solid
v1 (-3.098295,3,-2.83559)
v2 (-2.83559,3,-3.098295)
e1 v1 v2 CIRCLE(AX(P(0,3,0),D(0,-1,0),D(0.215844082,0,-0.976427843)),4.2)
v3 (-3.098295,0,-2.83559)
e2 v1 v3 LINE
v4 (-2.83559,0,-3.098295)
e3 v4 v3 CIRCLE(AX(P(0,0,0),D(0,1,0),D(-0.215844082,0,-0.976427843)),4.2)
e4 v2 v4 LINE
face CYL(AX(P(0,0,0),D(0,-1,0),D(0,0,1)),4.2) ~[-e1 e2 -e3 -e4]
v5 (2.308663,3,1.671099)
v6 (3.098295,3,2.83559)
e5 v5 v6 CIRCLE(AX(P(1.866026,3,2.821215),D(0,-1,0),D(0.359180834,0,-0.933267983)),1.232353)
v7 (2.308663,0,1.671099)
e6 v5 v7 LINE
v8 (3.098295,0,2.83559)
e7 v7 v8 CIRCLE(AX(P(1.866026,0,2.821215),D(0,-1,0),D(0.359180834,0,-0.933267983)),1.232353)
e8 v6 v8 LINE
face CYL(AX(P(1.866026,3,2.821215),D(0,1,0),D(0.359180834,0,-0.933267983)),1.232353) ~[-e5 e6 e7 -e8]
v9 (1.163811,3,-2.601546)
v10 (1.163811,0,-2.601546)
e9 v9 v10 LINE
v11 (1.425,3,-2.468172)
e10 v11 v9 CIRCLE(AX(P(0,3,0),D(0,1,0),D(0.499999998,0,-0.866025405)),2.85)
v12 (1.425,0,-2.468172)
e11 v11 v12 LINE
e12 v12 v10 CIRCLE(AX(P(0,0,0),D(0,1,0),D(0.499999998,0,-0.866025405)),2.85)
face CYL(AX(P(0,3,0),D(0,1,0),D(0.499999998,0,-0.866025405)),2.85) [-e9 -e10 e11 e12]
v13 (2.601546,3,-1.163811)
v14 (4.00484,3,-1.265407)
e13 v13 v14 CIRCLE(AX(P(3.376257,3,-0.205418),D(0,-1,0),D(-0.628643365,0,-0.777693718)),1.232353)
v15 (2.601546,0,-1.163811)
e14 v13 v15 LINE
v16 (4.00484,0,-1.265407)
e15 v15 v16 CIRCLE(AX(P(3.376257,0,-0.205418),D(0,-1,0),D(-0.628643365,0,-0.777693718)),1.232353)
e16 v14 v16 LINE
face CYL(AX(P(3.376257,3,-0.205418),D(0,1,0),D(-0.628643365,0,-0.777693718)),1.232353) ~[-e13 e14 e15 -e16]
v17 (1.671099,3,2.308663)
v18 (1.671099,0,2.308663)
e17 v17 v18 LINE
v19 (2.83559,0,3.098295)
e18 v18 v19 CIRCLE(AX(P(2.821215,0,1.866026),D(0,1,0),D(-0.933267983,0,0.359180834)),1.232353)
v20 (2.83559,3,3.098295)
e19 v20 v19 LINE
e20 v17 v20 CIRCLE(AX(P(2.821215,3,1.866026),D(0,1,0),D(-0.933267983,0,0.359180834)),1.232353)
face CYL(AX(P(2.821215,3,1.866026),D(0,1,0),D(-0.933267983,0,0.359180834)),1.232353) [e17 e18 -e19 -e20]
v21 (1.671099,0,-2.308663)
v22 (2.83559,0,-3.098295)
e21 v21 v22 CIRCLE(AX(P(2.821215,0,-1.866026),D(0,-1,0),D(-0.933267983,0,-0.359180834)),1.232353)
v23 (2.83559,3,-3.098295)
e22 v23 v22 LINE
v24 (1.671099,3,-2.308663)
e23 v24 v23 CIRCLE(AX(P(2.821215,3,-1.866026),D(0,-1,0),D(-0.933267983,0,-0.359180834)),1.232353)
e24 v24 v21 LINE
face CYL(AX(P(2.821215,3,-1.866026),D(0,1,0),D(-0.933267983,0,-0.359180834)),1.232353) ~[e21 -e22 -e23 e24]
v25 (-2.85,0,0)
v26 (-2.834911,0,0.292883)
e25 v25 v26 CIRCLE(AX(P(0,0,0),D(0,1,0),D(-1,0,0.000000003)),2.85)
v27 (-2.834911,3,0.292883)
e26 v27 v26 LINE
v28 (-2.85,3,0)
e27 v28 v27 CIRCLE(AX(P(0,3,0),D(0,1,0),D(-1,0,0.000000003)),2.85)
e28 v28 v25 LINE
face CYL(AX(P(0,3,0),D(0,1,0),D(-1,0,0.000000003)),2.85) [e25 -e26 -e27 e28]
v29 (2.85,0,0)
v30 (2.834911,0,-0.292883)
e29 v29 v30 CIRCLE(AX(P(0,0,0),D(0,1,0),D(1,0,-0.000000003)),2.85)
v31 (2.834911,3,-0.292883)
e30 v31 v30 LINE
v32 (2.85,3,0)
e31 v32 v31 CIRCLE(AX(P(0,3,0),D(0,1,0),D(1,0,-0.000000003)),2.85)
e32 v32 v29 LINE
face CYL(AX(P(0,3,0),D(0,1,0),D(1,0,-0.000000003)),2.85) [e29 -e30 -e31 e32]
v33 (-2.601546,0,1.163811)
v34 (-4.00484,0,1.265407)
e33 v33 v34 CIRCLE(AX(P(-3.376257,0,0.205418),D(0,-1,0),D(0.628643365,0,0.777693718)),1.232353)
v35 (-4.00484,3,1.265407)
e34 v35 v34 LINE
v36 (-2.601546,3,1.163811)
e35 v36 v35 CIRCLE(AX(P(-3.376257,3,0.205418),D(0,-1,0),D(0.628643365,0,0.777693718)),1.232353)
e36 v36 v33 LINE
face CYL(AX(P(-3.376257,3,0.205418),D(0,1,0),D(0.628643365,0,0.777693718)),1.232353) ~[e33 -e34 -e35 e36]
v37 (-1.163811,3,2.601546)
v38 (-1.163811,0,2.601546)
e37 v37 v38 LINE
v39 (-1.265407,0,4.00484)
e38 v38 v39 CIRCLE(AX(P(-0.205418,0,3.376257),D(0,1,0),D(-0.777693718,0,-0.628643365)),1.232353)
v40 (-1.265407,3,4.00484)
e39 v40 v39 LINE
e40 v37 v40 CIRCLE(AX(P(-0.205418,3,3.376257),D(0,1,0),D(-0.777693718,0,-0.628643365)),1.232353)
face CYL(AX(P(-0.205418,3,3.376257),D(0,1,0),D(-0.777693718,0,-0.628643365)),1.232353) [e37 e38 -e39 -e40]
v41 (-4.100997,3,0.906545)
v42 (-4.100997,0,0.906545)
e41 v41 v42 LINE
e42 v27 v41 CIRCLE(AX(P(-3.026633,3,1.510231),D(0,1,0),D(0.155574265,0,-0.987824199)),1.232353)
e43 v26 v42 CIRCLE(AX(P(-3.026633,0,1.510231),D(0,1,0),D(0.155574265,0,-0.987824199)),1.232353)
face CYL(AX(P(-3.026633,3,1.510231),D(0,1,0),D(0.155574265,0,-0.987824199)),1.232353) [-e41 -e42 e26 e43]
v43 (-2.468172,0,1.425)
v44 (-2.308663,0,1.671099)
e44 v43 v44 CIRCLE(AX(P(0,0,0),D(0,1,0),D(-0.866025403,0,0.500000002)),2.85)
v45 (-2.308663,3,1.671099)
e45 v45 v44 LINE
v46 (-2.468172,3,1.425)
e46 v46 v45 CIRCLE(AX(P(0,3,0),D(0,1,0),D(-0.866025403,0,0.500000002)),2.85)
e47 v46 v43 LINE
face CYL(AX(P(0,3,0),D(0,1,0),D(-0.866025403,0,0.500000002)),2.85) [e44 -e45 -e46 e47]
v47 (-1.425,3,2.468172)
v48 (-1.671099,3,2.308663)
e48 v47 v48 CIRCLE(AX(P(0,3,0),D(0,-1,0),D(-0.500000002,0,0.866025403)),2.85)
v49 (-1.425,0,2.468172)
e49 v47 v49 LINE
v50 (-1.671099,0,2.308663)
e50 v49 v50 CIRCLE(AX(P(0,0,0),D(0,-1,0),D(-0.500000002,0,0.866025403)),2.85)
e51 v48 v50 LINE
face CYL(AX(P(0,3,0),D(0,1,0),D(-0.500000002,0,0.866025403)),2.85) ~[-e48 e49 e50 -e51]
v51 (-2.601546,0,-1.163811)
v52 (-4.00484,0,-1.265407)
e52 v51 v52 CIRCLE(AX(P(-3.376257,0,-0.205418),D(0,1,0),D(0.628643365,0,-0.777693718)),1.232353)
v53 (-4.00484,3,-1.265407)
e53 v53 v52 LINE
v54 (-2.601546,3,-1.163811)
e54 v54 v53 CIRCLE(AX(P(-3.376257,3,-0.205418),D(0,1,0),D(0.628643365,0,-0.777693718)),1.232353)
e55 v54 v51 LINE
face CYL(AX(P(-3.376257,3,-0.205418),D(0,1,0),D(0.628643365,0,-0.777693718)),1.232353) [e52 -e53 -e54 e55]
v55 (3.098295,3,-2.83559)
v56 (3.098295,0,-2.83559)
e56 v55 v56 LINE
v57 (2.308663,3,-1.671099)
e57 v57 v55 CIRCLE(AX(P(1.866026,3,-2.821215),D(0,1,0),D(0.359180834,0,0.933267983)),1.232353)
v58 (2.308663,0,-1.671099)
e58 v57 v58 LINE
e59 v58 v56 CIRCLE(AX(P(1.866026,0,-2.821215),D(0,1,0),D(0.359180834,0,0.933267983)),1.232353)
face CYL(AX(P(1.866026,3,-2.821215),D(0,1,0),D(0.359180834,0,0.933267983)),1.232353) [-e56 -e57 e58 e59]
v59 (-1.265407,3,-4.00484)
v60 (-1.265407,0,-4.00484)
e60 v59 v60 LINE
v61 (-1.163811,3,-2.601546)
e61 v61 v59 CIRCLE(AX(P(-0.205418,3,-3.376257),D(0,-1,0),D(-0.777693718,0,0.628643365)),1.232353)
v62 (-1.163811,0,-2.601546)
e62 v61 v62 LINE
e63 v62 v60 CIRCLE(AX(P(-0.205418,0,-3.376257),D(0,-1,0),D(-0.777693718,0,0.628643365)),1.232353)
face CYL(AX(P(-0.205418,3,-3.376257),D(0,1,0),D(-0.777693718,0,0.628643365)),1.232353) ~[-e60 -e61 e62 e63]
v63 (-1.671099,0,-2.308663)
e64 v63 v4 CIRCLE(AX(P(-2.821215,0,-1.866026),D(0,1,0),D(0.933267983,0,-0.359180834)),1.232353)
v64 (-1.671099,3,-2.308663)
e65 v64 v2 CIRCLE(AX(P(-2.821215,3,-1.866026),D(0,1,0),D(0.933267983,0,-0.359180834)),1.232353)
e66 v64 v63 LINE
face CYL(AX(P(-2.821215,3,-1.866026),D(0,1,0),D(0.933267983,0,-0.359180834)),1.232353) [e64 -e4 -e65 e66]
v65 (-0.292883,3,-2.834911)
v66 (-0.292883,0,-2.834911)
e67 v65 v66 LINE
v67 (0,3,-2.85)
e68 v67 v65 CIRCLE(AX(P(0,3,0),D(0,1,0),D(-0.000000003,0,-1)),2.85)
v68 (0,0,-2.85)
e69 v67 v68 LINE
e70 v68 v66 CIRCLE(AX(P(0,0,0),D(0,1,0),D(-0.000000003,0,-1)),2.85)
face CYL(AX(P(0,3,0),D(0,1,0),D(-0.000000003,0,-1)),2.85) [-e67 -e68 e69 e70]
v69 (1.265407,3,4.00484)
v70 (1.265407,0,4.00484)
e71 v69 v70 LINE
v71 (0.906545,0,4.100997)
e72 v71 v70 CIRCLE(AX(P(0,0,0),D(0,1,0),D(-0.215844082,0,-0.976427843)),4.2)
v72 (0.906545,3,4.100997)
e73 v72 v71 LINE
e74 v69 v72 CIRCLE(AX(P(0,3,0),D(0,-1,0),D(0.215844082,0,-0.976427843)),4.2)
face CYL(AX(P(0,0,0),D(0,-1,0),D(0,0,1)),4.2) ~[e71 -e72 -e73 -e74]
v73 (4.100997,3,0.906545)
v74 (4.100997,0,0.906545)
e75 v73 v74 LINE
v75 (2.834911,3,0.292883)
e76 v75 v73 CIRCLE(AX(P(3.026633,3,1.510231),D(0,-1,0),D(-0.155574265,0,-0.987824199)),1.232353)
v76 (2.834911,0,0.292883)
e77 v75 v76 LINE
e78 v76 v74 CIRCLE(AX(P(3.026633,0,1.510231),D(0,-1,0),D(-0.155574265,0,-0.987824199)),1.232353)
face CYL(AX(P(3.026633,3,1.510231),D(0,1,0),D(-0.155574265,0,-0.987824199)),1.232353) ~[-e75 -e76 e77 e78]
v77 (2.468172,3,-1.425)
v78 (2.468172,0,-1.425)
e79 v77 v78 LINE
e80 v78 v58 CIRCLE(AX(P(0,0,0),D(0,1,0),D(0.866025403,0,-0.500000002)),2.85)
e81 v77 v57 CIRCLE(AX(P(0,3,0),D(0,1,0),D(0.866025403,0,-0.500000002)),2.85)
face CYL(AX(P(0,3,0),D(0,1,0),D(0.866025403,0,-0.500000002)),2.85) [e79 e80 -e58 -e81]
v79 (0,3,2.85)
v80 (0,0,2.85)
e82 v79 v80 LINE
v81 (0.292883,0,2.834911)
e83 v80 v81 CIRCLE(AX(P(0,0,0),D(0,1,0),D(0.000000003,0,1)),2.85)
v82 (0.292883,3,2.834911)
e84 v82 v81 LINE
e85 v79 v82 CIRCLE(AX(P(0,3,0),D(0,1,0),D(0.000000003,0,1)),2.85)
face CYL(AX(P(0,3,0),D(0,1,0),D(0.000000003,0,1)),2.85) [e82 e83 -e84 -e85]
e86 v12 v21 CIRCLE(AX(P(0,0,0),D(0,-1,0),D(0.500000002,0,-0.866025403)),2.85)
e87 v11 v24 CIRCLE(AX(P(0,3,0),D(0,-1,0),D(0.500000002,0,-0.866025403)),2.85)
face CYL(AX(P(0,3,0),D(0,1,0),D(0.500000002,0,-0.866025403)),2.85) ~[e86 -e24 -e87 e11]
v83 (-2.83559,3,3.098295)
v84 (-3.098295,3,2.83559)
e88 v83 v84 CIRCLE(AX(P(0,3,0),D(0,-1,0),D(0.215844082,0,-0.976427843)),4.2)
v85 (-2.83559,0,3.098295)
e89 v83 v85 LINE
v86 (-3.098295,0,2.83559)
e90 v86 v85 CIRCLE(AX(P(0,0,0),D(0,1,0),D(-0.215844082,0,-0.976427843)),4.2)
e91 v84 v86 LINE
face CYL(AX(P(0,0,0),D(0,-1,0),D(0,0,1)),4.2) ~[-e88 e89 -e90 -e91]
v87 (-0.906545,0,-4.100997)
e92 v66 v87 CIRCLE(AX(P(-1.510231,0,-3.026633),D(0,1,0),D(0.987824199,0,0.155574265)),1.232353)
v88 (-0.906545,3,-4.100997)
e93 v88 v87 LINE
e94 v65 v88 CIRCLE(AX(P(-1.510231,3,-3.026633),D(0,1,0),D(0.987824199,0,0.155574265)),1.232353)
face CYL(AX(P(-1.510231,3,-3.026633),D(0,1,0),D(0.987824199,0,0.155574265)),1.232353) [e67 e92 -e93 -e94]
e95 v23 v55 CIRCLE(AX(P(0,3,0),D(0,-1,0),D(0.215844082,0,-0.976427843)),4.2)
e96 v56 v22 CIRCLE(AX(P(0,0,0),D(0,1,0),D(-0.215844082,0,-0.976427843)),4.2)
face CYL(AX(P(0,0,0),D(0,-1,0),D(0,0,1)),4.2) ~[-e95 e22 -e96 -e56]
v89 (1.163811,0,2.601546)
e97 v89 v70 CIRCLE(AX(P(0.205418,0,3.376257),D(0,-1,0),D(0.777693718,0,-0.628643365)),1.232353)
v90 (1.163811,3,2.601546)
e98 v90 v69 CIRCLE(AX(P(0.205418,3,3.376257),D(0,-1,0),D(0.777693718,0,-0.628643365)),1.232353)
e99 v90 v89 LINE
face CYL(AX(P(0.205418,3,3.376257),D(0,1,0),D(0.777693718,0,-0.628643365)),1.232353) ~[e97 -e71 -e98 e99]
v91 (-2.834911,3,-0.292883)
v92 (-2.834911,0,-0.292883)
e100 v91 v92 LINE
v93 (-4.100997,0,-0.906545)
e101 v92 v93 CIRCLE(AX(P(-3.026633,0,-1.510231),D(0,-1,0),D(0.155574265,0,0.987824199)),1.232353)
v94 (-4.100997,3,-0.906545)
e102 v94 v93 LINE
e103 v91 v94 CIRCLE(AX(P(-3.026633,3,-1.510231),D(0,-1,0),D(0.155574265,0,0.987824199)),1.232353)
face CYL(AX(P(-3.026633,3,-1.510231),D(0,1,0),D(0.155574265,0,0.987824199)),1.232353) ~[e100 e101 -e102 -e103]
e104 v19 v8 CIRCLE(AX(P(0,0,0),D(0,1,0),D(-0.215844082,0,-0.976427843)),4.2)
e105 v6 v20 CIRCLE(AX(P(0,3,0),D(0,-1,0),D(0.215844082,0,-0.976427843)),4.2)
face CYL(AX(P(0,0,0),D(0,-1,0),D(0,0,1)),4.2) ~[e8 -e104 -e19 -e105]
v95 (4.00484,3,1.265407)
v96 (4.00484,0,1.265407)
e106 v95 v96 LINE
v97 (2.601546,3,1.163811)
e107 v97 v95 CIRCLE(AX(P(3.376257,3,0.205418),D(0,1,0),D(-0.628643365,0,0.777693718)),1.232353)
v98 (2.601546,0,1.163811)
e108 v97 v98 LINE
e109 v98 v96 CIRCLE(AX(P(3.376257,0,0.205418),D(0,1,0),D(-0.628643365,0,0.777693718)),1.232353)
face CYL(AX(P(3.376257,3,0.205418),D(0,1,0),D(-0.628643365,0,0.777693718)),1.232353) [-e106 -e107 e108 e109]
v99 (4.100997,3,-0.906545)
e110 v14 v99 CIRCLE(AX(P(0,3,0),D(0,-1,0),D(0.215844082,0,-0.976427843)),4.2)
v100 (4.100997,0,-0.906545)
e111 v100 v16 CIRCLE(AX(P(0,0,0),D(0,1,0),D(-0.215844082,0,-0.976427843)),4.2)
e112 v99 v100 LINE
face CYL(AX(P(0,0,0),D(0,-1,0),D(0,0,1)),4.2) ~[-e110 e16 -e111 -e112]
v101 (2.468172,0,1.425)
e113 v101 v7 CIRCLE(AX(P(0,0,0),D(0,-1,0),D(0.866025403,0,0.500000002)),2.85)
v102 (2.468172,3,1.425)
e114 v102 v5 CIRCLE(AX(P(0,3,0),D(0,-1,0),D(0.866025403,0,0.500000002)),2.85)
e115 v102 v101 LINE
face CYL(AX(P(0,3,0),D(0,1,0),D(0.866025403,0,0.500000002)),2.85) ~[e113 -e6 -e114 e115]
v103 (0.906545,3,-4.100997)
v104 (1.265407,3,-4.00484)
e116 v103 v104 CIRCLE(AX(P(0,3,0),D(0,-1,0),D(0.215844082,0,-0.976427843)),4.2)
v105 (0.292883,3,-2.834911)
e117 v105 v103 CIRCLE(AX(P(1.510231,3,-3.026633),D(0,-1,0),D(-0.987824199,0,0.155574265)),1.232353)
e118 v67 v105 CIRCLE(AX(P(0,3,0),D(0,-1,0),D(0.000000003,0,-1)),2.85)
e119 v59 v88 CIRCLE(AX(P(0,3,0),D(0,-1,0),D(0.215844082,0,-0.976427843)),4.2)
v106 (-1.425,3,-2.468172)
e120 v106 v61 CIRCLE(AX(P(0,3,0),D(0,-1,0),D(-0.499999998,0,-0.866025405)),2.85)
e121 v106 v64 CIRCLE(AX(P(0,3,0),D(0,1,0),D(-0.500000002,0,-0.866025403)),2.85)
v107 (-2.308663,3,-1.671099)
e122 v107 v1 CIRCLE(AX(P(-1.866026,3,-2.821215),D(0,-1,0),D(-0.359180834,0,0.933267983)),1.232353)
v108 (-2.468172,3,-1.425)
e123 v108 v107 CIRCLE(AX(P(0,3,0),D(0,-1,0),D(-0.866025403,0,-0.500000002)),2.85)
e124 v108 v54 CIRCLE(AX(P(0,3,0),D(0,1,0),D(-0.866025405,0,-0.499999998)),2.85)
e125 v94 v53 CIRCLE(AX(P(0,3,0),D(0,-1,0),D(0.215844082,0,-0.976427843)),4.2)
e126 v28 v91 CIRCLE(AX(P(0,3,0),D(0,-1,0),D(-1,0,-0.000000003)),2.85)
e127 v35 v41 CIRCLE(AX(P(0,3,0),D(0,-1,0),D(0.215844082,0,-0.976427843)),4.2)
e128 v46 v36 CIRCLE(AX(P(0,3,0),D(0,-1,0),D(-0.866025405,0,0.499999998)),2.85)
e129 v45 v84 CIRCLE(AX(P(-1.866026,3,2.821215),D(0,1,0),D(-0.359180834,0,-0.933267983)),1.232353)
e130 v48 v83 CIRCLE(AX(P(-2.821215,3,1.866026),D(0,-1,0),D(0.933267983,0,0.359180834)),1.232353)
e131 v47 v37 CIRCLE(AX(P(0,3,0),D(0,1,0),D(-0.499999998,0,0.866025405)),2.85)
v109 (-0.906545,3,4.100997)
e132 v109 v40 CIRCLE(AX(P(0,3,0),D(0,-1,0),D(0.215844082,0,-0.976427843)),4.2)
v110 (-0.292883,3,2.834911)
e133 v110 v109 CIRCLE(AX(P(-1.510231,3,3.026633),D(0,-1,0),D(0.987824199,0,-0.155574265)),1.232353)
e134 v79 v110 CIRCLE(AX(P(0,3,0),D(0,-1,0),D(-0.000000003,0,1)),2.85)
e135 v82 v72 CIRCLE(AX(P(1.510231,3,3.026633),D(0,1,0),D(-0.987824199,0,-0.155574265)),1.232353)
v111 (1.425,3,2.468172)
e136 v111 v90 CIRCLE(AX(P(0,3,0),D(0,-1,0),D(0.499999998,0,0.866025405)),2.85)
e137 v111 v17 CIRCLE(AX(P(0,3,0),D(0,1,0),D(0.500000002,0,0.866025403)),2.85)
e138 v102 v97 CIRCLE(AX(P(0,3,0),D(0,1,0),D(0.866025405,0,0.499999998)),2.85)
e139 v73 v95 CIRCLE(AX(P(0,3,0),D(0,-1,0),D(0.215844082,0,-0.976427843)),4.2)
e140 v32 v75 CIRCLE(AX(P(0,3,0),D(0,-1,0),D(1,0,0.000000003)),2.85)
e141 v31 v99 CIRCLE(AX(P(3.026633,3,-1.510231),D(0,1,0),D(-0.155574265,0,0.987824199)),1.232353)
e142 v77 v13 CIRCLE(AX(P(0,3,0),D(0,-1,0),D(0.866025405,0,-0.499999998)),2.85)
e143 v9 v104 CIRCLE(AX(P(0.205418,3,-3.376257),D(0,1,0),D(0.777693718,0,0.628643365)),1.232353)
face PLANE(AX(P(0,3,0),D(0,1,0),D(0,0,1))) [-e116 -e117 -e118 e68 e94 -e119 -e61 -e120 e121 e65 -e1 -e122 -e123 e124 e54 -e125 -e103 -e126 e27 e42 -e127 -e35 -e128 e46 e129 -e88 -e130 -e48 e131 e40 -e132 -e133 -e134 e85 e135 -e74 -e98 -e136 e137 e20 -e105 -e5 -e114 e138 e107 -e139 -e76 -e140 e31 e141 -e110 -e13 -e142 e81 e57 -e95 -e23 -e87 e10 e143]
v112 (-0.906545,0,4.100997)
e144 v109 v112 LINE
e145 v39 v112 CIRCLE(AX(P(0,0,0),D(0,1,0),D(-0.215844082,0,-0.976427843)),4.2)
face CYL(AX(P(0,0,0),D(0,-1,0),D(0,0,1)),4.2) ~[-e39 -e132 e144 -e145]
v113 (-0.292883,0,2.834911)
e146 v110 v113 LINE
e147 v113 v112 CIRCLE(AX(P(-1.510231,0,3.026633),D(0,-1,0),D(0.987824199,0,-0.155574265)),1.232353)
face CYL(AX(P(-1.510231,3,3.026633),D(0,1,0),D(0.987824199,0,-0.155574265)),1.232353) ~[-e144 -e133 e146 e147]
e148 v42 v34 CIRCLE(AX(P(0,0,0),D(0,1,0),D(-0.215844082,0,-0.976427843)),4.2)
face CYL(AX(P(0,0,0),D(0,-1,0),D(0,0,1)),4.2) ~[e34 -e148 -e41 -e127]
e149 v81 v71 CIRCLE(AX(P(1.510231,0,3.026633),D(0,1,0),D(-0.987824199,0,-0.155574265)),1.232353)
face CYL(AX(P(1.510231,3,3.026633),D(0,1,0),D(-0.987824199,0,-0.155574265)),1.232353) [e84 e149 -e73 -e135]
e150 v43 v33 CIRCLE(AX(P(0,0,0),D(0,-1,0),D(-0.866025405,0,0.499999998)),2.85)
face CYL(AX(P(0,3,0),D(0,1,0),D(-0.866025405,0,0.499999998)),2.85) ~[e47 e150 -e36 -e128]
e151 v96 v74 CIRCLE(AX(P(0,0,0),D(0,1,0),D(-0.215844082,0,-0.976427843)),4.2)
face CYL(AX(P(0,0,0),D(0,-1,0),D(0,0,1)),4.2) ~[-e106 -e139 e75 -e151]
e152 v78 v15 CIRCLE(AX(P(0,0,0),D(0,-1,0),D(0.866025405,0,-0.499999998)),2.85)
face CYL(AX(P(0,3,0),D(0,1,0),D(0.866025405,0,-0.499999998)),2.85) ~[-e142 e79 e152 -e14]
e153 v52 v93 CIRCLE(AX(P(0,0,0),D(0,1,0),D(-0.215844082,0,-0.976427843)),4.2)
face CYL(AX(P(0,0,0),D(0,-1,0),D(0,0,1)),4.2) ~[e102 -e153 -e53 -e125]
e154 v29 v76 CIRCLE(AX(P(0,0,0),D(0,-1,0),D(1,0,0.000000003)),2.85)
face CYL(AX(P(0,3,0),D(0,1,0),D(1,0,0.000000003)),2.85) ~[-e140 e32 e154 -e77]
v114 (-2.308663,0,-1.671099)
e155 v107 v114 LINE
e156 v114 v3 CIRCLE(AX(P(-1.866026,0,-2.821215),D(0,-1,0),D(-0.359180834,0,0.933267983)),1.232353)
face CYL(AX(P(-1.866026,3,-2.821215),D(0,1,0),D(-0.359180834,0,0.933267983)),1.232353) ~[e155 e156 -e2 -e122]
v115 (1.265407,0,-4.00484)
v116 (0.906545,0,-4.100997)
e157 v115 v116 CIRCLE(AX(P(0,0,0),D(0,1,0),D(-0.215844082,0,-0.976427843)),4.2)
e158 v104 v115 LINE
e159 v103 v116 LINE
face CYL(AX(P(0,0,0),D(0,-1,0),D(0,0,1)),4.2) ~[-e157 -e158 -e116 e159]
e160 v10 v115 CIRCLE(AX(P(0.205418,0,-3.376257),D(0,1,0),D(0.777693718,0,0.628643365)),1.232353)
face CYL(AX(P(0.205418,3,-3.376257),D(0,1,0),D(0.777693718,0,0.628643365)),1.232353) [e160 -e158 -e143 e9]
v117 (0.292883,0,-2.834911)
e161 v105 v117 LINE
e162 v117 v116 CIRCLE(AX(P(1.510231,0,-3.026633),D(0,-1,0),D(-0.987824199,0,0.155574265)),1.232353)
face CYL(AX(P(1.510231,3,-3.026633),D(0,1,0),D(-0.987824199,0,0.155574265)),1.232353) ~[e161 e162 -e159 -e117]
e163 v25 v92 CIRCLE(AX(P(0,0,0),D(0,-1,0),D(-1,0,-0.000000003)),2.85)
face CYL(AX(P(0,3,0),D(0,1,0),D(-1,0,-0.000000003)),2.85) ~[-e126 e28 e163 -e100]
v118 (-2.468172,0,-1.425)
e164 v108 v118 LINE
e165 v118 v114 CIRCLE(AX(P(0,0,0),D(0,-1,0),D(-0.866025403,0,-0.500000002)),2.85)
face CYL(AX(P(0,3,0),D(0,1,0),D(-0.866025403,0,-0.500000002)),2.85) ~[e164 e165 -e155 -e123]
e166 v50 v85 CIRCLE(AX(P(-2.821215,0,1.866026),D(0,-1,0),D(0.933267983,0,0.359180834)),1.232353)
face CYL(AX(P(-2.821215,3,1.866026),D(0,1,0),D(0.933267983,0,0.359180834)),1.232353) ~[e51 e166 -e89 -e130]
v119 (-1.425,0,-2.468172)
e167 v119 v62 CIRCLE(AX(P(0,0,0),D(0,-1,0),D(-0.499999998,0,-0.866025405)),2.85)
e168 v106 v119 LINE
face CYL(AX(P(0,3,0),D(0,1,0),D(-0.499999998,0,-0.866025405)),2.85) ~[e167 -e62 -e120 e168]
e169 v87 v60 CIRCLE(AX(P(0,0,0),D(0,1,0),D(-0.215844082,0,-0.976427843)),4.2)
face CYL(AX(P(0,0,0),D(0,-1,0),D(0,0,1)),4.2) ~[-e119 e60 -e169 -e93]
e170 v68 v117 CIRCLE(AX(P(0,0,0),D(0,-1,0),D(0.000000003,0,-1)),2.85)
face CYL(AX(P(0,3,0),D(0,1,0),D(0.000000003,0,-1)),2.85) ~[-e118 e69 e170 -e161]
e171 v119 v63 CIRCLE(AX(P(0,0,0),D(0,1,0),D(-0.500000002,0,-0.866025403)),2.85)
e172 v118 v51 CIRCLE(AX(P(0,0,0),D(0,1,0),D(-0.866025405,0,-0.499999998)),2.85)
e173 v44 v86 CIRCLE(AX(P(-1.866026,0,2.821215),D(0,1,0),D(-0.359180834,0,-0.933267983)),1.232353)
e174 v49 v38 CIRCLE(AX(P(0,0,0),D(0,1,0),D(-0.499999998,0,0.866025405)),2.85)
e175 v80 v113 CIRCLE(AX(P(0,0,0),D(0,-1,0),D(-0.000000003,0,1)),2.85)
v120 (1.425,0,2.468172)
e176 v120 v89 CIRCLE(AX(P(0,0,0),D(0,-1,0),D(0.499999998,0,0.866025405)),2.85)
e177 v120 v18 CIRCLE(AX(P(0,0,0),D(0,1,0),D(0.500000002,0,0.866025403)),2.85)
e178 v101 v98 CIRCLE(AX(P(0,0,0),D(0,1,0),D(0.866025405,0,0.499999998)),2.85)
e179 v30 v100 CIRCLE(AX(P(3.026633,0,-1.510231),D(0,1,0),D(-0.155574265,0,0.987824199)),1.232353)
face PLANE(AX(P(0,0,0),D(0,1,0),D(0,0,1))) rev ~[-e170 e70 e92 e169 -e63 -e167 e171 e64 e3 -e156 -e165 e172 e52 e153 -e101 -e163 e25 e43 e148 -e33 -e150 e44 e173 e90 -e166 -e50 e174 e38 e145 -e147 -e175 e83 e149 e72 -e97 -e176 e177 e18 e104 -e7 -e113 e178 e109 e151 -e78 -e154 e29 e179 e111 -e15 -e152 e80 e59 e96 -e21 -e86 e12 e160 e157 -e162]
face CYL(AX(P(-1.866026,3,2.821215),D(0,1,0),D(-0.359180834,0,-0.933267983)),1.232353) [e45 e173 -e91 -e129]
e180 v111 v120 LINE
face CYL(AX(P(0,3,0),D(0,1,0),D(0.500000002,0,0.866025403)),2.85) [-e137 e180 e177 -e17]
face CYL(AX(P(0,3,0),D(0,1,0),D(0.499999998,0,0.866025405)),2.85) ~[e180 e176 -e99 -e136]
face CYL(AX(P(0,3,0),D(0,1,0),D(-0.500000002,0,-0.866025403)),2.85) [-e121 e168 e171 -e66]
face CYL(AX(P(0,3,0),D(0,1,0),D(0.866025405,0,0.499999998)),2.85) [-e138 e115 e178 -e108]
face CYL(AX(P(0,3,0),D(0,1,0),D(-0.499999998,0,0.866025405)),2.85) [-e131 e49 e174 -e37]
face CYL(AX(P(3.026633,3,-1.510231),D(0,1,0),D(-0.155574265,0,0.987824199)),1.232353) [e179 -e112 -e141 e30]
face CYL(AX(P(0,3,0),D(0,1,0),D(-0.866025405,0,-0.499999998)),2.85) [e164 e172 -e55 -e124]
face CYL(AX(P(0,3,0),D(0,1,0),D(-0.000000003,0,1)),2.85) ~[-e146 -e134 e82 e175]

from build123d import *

# Parameters (mm, degrees)
SKETCH1_R                 = 4.2
BOSS_EXTRUDE1_DEPTH       = 3
CUT_EXTRUDE2_DEPTH        = 3
CIRPATTERN1_COUNT         = 12
CIRPATTERN1_COPY_1_DEPTH  = 3
CIRPATTERN1_COPY_2_DEPTH  = 3
CIRPATTERN1_COPY_3_DEPTH  = 3
CIRPATTERN1_COPY_4_DEPTH  = 3
CIRPATTERN1_COPY_5_DEPTH  = 3
CIRPATTERN1_COPY_6_DEPTH  = 3
CIRPATTERN1_COPY_7_DEPTH  = 3
CIRPATTERN1_COPY_8_DEPTH  = 3
CIRPATTERN1_COPY_9_DEPTH  = 3
CIRPATTERN1_COPY_10_DEPTH = 3
CIRPATTERN1_COPY_11_DEPTH = 3


with BuildPart() as part:
    # Sketch1 → Boss-Extrude1 (new body)
    with BuildSketch(Plane(origin=(0, 0, 0), x_dir=(1, 0, 0), z_dir=(0, 1, 0))):
        with Locations(Location((0, 0, 0), (0, 0, 270))):
            Circle(SKETCH1_R)
    extrude(amount=BOSS_EXTRUDE1_DEPTH)

    # Sketch2 → Cut-Extrude2 (cut)
    with BuildSketch(Plane(origin=(0, 3, 0), x_dir=(1, 0, 0), z_dir=(0, 1, 0))):
        with BuildLine():
            Line((-1.108658308, 4.191722636), (0, 5.977827248))
            Line((0, 5.977827248), (0, 2.85))
            ThreePointArc((0, 2.85), (-0.146635628, 2.846225218), (-0.292882823, 2.834910872))
            ThreePointArc((-0.292882823, 2.834910872), (-0.454077223, 3.661639746), (-1.108658308, 4.191722636))
        make_face()
    cut_extrude2 = extrude(amount=-CUT_EXTRUDE2_DEPTH, mode=Mode.SUBTRACT)

    # Mirror2: Cut-Extrude2 across plane
    add(cut_extrude2.mirror(Plane.ZY), mode=Mode.SUBTRACT)

    # CirPattern1: Cut-Extrude2 ×12 about axis
    cirpattern1_axis = Axis((0, 0, 0), (0, 1, 0))
    for i in range(1, CIRPATTERN1_COUNT):
        add(cut_extrude2.rotate(cirpattern1_axis, i * 360 / CIRPATTERN1_COUNT), mode=Mode.SUBTRACT)

    # CirPattern1 copy 1 sketch → CirPattern1 copy 1 (cut)
    with BuildSketch(Plane(origin=(0, 3, 0), x_dir=(-0.8660254037844387, 0, 0.49999999999999994), z_dir=(0, 1, 0))):
        with BuildLine():
            Line((-1.108658308, -4.191722636), (0, -5.977827248))
            Line((0, -5.977827248), (0, -2.85))
            ThreePointArc((0, -2.85), (-0.146635628, -2.846225218), (-0.292882823, -2.834910872))
            ThreePointArc((-0.292882823, -2.834910872), (-0.454077223, -3.661639746), (-1.108658308, -4.191722636))
        make_face()
    extrude(amount=-CIRPATTERN1_COPY_1_DEPTH, mode=Mode.SUBTRACT)

    # CirPattern1 copy 2 sketch → CirPattern1 copy 2 (cut)
    with BuildSketch(Plane(origin=(0, 3, 0), x_dir=(-0.5000000000000001, 0, 0.8660254037844386), z_dir=(0, 1, 0))):
        with BuildLine():
            Line((-1.108658308, -4.191722636), (0, -5.977827248))
            Line((0, -5.977827248), (0, -2.85))
            ThreePointArc((0, -2.85), (-0.146635628, -2.846225218), (-0.292882823, -2.834910872))
            ThreePointArc((-0.292882823, -2.834910872), (-0.454077223, -3.661639746), (-1.108658308, -4.191722636))
        make_face()
    extrude(amount=-CIRPATTERN1_COPY_2_DEPTH, mode=Mode.SUBTRACT)

    # CirPattern1 copy 3 sketch → CirPattern1 copy 3 (cut)
    with BuildSketch(Plane.ZX.offset(3)):
        with BuildLine():
            Line((-1.108658308, -4.191722636), (0, -5.977827248))
            Line((0, -5.977827248), (0, -2.85))
            ThreePointArc((0, -2.85), (-0.146635628, -2.846225218), (-0.292882823, -2.834910872))
            ThreePointArc((-0.292882823, -2.834910872), (-0.454077223, -3.661639746), (-1.108658308, -4.191722636))
        make_face()
    extrude(amount=-CIRPATTERN1_COPY_3_DEPTH, mode=Mode.SUBTRACT)

    # CirPattern1 copy 4 sketch → CirPattern1 copy 4 (cut)
    with BuildSketch(Plane(origin=(0, 3, 0), x_dir=(0.4999999999999998, 0, 0.8660254037844387), z_dir=(0, 1, 0))):
        with BuildLine():
            Line((-1.108658308, -4.191722636), (0, -5.977827248))
            Line((0, -5.977827248), (0, -2.85))
            ThreePointArc((0, -2.85), (-0.146635628, -2.846225218), (-0.292882823, -2.834910872))
            ThreePointArc((-0.292882823, -2.834910872), (-0.454077223, -3.661639746), (-1.108658308, -4.191722636))
        make_face()
    extrude(amount=-CIRPATTERN1_COPY_4_DEPTH, mode=Mode.SUBTRACT)

    # CirPattern1 copy 5 sketch → CirPattern1 copy 5 (cut)
    with BuildSketch(Plane(origin=(0, 3, 0), x_dir=(0.8660254037844387, 0, 0.49999999999999994), z_dir=(0, 1, 0))):
        with BuildLine():
            Line((-1.108658308, -4.191722636), (0, -5.977827248))
            Line((0, -5.977827248), (0, -2.85))
            ThreePointArc((0, -2.85), (-0.146635628, -2.846225218), (-0.292882823, -2.834910872))
            ThreePointArc((-0.292882823, -2.834910872), (-0.454077223, -3.661639746), (-1.108658308, -4.191722636))
        make_face()
    extrude(amount=-CIRPATTERN1_COPY_5_DEPTH, mode=Mode.SUBTRACT)

    # CirPattern1 copy 6 sketch → CirPattern1 copy 6 (cut)
    with BuildSketch(Plane(origin=(0, 3, 0), x_dir=(1, 0, 0), z_dir=(0, 1, 0))):
        with BuildLine():
            Line((-1.108658308, -4.191722636), (0, -5.977827248))
            Line((0, -5.977827248), (0, -2.85))
            ThreePointArc((0, -2.85), (-0.146635628, -2.846225218), (-0.292882823, -2.834910872))
            ThreePointArc((-0.292882823, -2.834910872), (-0.454077223, -3.661639746), (-1.108658308, -4.191722636))
        make_face()
    extrude(amount=-CIRPATTERN1_COPY_6_DEPTH, mode=Mode.SUBTRACT)

    # CirPattern1 copy 7 sketch → CirPattern1 copy 7 (cut)
    with BuildSketch(Plane(origin=(0, 3, 0), x_dir=(0.8660254037844386, 0, -0.5000000000000001), z_dir=(0, 1, 0))):
        with BuildLine():
            Line((-1.108658308, -4.191722636), (0, -5.977827248))
            Line((0, -5.977827248), (0, -2.85))
            ThreePointArc((0, -2.85), (-0.146635628, -2.846225218), (-0.292882823, -2.834910872))
            ThreePointArc((-0.292882823, -2.834910872), (-0.454077223, -3.661639746), (-1.108658308, -4.191722636))
        make_face()
    extrude(amount=-CIRPATTERN1_COPY_7_DEPTH, mode=Mode.SUBTRACT)

    # CirPattern1 copy 8 sketch → CirPattern1 copy 8 (cut)
    with BuildSketch(Plane(origin=(0, 3, 0), x_dir=(0.5000000000000004, 0, -0.8660254037844384), z_dir=(0, 1, 0))):
        with BuildLine():
            Line((-1.108658308, -4.191722636), (0, -5.977827248))
            Line((0, -5.977827248), (0, -2.85))
            ThreePointArc((0, -2.85), (-0.146635628, -2.846225218), (-0.292882823, -2.834910872))
            ThreePointArc((-0.292882823, -2.834910872), (-0.454077223, -3.661639746), (-1.108658308, -4.191722636))
        make_face()
    extrude(amount=-CIRPATTERN1_COPY_8_DEPTH, mode=Mode.SUBTRACT)

    # CirPattern1 copy 9 sketch → CirPattern1 copy 9 (cut)
    with BuildSketch(Plane(origin=(0, 3, 0), x_dir=(0, 0, -1), z_dir=(0, 1, 0))):
        with BuildLine():
            Line((-1.108658308, -4.191722636), (0, -5.977827248))
            Line((0, -5.977827248), (0, -2.85))
            ThreePointArc((0, -2.85), (-0.146635628, -2.846225218), (-0.292882823, -2.834910872))
            ThreePointArc((-0.292882823, -2.834910872), (-0.454077223, -3.661639746), (-1.108658308, -4.191722636))
        make_face()
    extrude(amount=-CIRPATTERN1_COPY_9_DEPTH, mode=Mode.SUBTRACT)

    # CirPattern1 copy 10 sketch → CirPattern1 copy 10 (cut)
    with BuildSketch(Plane(origin=(0, 3, 0), x_dir=(-0.5000000000000001, 0, -0.8660254037844386), z_dir=(0, 1, 0))):
        with BuildLine():
            Line((-1.108658308, -4.191722636), (0, -5.977827248))
            Line((0, -5.977827248), (0, -2.85))
            ThreePointArc((0, -2.85), (-0.146635628, -2.846225218), (-0.292882823, -2.834910872))
            ThreePointArc((-0.292882823, -2.834910872), (-0.454077223, -3.661639746), (-1.108658308, -4.191722636))
        make_face()
    extrude(amount=-CIRPATTERN1_COPY_10_DEPTH, mode=Mode.SUBTRACT)

    # CirPattern1 copy 11 sketch → CirPattern1 copy 11 (cut)
    with BuildSketch(Plane(origin=(0, 3, 0), x_dir=(-0.8660254037844384, 0, -0.5000000000000004), z_dir=(0, 1, 0))):
        with BuildLine():
            Line((-1.108658308, -4.191722636), (0, -5.977827248))
            Line((0, -5.977827248), (0, -2.85))
            ThreePointArc((0, -2.85), (-0.146635628, -2.846225218), (-0.292882823, -2.834910872))
            ThreePointArc((-0.292882823, -2.834910872), (-0.454077223, -3.661639746), (-1.108658308, -4.191722636))
        make_face()
    extrude(amount=-CIRPATTERN1_COPY_11_DEPTH, mode=Mode.SUBTRACT)


solid = part.part
